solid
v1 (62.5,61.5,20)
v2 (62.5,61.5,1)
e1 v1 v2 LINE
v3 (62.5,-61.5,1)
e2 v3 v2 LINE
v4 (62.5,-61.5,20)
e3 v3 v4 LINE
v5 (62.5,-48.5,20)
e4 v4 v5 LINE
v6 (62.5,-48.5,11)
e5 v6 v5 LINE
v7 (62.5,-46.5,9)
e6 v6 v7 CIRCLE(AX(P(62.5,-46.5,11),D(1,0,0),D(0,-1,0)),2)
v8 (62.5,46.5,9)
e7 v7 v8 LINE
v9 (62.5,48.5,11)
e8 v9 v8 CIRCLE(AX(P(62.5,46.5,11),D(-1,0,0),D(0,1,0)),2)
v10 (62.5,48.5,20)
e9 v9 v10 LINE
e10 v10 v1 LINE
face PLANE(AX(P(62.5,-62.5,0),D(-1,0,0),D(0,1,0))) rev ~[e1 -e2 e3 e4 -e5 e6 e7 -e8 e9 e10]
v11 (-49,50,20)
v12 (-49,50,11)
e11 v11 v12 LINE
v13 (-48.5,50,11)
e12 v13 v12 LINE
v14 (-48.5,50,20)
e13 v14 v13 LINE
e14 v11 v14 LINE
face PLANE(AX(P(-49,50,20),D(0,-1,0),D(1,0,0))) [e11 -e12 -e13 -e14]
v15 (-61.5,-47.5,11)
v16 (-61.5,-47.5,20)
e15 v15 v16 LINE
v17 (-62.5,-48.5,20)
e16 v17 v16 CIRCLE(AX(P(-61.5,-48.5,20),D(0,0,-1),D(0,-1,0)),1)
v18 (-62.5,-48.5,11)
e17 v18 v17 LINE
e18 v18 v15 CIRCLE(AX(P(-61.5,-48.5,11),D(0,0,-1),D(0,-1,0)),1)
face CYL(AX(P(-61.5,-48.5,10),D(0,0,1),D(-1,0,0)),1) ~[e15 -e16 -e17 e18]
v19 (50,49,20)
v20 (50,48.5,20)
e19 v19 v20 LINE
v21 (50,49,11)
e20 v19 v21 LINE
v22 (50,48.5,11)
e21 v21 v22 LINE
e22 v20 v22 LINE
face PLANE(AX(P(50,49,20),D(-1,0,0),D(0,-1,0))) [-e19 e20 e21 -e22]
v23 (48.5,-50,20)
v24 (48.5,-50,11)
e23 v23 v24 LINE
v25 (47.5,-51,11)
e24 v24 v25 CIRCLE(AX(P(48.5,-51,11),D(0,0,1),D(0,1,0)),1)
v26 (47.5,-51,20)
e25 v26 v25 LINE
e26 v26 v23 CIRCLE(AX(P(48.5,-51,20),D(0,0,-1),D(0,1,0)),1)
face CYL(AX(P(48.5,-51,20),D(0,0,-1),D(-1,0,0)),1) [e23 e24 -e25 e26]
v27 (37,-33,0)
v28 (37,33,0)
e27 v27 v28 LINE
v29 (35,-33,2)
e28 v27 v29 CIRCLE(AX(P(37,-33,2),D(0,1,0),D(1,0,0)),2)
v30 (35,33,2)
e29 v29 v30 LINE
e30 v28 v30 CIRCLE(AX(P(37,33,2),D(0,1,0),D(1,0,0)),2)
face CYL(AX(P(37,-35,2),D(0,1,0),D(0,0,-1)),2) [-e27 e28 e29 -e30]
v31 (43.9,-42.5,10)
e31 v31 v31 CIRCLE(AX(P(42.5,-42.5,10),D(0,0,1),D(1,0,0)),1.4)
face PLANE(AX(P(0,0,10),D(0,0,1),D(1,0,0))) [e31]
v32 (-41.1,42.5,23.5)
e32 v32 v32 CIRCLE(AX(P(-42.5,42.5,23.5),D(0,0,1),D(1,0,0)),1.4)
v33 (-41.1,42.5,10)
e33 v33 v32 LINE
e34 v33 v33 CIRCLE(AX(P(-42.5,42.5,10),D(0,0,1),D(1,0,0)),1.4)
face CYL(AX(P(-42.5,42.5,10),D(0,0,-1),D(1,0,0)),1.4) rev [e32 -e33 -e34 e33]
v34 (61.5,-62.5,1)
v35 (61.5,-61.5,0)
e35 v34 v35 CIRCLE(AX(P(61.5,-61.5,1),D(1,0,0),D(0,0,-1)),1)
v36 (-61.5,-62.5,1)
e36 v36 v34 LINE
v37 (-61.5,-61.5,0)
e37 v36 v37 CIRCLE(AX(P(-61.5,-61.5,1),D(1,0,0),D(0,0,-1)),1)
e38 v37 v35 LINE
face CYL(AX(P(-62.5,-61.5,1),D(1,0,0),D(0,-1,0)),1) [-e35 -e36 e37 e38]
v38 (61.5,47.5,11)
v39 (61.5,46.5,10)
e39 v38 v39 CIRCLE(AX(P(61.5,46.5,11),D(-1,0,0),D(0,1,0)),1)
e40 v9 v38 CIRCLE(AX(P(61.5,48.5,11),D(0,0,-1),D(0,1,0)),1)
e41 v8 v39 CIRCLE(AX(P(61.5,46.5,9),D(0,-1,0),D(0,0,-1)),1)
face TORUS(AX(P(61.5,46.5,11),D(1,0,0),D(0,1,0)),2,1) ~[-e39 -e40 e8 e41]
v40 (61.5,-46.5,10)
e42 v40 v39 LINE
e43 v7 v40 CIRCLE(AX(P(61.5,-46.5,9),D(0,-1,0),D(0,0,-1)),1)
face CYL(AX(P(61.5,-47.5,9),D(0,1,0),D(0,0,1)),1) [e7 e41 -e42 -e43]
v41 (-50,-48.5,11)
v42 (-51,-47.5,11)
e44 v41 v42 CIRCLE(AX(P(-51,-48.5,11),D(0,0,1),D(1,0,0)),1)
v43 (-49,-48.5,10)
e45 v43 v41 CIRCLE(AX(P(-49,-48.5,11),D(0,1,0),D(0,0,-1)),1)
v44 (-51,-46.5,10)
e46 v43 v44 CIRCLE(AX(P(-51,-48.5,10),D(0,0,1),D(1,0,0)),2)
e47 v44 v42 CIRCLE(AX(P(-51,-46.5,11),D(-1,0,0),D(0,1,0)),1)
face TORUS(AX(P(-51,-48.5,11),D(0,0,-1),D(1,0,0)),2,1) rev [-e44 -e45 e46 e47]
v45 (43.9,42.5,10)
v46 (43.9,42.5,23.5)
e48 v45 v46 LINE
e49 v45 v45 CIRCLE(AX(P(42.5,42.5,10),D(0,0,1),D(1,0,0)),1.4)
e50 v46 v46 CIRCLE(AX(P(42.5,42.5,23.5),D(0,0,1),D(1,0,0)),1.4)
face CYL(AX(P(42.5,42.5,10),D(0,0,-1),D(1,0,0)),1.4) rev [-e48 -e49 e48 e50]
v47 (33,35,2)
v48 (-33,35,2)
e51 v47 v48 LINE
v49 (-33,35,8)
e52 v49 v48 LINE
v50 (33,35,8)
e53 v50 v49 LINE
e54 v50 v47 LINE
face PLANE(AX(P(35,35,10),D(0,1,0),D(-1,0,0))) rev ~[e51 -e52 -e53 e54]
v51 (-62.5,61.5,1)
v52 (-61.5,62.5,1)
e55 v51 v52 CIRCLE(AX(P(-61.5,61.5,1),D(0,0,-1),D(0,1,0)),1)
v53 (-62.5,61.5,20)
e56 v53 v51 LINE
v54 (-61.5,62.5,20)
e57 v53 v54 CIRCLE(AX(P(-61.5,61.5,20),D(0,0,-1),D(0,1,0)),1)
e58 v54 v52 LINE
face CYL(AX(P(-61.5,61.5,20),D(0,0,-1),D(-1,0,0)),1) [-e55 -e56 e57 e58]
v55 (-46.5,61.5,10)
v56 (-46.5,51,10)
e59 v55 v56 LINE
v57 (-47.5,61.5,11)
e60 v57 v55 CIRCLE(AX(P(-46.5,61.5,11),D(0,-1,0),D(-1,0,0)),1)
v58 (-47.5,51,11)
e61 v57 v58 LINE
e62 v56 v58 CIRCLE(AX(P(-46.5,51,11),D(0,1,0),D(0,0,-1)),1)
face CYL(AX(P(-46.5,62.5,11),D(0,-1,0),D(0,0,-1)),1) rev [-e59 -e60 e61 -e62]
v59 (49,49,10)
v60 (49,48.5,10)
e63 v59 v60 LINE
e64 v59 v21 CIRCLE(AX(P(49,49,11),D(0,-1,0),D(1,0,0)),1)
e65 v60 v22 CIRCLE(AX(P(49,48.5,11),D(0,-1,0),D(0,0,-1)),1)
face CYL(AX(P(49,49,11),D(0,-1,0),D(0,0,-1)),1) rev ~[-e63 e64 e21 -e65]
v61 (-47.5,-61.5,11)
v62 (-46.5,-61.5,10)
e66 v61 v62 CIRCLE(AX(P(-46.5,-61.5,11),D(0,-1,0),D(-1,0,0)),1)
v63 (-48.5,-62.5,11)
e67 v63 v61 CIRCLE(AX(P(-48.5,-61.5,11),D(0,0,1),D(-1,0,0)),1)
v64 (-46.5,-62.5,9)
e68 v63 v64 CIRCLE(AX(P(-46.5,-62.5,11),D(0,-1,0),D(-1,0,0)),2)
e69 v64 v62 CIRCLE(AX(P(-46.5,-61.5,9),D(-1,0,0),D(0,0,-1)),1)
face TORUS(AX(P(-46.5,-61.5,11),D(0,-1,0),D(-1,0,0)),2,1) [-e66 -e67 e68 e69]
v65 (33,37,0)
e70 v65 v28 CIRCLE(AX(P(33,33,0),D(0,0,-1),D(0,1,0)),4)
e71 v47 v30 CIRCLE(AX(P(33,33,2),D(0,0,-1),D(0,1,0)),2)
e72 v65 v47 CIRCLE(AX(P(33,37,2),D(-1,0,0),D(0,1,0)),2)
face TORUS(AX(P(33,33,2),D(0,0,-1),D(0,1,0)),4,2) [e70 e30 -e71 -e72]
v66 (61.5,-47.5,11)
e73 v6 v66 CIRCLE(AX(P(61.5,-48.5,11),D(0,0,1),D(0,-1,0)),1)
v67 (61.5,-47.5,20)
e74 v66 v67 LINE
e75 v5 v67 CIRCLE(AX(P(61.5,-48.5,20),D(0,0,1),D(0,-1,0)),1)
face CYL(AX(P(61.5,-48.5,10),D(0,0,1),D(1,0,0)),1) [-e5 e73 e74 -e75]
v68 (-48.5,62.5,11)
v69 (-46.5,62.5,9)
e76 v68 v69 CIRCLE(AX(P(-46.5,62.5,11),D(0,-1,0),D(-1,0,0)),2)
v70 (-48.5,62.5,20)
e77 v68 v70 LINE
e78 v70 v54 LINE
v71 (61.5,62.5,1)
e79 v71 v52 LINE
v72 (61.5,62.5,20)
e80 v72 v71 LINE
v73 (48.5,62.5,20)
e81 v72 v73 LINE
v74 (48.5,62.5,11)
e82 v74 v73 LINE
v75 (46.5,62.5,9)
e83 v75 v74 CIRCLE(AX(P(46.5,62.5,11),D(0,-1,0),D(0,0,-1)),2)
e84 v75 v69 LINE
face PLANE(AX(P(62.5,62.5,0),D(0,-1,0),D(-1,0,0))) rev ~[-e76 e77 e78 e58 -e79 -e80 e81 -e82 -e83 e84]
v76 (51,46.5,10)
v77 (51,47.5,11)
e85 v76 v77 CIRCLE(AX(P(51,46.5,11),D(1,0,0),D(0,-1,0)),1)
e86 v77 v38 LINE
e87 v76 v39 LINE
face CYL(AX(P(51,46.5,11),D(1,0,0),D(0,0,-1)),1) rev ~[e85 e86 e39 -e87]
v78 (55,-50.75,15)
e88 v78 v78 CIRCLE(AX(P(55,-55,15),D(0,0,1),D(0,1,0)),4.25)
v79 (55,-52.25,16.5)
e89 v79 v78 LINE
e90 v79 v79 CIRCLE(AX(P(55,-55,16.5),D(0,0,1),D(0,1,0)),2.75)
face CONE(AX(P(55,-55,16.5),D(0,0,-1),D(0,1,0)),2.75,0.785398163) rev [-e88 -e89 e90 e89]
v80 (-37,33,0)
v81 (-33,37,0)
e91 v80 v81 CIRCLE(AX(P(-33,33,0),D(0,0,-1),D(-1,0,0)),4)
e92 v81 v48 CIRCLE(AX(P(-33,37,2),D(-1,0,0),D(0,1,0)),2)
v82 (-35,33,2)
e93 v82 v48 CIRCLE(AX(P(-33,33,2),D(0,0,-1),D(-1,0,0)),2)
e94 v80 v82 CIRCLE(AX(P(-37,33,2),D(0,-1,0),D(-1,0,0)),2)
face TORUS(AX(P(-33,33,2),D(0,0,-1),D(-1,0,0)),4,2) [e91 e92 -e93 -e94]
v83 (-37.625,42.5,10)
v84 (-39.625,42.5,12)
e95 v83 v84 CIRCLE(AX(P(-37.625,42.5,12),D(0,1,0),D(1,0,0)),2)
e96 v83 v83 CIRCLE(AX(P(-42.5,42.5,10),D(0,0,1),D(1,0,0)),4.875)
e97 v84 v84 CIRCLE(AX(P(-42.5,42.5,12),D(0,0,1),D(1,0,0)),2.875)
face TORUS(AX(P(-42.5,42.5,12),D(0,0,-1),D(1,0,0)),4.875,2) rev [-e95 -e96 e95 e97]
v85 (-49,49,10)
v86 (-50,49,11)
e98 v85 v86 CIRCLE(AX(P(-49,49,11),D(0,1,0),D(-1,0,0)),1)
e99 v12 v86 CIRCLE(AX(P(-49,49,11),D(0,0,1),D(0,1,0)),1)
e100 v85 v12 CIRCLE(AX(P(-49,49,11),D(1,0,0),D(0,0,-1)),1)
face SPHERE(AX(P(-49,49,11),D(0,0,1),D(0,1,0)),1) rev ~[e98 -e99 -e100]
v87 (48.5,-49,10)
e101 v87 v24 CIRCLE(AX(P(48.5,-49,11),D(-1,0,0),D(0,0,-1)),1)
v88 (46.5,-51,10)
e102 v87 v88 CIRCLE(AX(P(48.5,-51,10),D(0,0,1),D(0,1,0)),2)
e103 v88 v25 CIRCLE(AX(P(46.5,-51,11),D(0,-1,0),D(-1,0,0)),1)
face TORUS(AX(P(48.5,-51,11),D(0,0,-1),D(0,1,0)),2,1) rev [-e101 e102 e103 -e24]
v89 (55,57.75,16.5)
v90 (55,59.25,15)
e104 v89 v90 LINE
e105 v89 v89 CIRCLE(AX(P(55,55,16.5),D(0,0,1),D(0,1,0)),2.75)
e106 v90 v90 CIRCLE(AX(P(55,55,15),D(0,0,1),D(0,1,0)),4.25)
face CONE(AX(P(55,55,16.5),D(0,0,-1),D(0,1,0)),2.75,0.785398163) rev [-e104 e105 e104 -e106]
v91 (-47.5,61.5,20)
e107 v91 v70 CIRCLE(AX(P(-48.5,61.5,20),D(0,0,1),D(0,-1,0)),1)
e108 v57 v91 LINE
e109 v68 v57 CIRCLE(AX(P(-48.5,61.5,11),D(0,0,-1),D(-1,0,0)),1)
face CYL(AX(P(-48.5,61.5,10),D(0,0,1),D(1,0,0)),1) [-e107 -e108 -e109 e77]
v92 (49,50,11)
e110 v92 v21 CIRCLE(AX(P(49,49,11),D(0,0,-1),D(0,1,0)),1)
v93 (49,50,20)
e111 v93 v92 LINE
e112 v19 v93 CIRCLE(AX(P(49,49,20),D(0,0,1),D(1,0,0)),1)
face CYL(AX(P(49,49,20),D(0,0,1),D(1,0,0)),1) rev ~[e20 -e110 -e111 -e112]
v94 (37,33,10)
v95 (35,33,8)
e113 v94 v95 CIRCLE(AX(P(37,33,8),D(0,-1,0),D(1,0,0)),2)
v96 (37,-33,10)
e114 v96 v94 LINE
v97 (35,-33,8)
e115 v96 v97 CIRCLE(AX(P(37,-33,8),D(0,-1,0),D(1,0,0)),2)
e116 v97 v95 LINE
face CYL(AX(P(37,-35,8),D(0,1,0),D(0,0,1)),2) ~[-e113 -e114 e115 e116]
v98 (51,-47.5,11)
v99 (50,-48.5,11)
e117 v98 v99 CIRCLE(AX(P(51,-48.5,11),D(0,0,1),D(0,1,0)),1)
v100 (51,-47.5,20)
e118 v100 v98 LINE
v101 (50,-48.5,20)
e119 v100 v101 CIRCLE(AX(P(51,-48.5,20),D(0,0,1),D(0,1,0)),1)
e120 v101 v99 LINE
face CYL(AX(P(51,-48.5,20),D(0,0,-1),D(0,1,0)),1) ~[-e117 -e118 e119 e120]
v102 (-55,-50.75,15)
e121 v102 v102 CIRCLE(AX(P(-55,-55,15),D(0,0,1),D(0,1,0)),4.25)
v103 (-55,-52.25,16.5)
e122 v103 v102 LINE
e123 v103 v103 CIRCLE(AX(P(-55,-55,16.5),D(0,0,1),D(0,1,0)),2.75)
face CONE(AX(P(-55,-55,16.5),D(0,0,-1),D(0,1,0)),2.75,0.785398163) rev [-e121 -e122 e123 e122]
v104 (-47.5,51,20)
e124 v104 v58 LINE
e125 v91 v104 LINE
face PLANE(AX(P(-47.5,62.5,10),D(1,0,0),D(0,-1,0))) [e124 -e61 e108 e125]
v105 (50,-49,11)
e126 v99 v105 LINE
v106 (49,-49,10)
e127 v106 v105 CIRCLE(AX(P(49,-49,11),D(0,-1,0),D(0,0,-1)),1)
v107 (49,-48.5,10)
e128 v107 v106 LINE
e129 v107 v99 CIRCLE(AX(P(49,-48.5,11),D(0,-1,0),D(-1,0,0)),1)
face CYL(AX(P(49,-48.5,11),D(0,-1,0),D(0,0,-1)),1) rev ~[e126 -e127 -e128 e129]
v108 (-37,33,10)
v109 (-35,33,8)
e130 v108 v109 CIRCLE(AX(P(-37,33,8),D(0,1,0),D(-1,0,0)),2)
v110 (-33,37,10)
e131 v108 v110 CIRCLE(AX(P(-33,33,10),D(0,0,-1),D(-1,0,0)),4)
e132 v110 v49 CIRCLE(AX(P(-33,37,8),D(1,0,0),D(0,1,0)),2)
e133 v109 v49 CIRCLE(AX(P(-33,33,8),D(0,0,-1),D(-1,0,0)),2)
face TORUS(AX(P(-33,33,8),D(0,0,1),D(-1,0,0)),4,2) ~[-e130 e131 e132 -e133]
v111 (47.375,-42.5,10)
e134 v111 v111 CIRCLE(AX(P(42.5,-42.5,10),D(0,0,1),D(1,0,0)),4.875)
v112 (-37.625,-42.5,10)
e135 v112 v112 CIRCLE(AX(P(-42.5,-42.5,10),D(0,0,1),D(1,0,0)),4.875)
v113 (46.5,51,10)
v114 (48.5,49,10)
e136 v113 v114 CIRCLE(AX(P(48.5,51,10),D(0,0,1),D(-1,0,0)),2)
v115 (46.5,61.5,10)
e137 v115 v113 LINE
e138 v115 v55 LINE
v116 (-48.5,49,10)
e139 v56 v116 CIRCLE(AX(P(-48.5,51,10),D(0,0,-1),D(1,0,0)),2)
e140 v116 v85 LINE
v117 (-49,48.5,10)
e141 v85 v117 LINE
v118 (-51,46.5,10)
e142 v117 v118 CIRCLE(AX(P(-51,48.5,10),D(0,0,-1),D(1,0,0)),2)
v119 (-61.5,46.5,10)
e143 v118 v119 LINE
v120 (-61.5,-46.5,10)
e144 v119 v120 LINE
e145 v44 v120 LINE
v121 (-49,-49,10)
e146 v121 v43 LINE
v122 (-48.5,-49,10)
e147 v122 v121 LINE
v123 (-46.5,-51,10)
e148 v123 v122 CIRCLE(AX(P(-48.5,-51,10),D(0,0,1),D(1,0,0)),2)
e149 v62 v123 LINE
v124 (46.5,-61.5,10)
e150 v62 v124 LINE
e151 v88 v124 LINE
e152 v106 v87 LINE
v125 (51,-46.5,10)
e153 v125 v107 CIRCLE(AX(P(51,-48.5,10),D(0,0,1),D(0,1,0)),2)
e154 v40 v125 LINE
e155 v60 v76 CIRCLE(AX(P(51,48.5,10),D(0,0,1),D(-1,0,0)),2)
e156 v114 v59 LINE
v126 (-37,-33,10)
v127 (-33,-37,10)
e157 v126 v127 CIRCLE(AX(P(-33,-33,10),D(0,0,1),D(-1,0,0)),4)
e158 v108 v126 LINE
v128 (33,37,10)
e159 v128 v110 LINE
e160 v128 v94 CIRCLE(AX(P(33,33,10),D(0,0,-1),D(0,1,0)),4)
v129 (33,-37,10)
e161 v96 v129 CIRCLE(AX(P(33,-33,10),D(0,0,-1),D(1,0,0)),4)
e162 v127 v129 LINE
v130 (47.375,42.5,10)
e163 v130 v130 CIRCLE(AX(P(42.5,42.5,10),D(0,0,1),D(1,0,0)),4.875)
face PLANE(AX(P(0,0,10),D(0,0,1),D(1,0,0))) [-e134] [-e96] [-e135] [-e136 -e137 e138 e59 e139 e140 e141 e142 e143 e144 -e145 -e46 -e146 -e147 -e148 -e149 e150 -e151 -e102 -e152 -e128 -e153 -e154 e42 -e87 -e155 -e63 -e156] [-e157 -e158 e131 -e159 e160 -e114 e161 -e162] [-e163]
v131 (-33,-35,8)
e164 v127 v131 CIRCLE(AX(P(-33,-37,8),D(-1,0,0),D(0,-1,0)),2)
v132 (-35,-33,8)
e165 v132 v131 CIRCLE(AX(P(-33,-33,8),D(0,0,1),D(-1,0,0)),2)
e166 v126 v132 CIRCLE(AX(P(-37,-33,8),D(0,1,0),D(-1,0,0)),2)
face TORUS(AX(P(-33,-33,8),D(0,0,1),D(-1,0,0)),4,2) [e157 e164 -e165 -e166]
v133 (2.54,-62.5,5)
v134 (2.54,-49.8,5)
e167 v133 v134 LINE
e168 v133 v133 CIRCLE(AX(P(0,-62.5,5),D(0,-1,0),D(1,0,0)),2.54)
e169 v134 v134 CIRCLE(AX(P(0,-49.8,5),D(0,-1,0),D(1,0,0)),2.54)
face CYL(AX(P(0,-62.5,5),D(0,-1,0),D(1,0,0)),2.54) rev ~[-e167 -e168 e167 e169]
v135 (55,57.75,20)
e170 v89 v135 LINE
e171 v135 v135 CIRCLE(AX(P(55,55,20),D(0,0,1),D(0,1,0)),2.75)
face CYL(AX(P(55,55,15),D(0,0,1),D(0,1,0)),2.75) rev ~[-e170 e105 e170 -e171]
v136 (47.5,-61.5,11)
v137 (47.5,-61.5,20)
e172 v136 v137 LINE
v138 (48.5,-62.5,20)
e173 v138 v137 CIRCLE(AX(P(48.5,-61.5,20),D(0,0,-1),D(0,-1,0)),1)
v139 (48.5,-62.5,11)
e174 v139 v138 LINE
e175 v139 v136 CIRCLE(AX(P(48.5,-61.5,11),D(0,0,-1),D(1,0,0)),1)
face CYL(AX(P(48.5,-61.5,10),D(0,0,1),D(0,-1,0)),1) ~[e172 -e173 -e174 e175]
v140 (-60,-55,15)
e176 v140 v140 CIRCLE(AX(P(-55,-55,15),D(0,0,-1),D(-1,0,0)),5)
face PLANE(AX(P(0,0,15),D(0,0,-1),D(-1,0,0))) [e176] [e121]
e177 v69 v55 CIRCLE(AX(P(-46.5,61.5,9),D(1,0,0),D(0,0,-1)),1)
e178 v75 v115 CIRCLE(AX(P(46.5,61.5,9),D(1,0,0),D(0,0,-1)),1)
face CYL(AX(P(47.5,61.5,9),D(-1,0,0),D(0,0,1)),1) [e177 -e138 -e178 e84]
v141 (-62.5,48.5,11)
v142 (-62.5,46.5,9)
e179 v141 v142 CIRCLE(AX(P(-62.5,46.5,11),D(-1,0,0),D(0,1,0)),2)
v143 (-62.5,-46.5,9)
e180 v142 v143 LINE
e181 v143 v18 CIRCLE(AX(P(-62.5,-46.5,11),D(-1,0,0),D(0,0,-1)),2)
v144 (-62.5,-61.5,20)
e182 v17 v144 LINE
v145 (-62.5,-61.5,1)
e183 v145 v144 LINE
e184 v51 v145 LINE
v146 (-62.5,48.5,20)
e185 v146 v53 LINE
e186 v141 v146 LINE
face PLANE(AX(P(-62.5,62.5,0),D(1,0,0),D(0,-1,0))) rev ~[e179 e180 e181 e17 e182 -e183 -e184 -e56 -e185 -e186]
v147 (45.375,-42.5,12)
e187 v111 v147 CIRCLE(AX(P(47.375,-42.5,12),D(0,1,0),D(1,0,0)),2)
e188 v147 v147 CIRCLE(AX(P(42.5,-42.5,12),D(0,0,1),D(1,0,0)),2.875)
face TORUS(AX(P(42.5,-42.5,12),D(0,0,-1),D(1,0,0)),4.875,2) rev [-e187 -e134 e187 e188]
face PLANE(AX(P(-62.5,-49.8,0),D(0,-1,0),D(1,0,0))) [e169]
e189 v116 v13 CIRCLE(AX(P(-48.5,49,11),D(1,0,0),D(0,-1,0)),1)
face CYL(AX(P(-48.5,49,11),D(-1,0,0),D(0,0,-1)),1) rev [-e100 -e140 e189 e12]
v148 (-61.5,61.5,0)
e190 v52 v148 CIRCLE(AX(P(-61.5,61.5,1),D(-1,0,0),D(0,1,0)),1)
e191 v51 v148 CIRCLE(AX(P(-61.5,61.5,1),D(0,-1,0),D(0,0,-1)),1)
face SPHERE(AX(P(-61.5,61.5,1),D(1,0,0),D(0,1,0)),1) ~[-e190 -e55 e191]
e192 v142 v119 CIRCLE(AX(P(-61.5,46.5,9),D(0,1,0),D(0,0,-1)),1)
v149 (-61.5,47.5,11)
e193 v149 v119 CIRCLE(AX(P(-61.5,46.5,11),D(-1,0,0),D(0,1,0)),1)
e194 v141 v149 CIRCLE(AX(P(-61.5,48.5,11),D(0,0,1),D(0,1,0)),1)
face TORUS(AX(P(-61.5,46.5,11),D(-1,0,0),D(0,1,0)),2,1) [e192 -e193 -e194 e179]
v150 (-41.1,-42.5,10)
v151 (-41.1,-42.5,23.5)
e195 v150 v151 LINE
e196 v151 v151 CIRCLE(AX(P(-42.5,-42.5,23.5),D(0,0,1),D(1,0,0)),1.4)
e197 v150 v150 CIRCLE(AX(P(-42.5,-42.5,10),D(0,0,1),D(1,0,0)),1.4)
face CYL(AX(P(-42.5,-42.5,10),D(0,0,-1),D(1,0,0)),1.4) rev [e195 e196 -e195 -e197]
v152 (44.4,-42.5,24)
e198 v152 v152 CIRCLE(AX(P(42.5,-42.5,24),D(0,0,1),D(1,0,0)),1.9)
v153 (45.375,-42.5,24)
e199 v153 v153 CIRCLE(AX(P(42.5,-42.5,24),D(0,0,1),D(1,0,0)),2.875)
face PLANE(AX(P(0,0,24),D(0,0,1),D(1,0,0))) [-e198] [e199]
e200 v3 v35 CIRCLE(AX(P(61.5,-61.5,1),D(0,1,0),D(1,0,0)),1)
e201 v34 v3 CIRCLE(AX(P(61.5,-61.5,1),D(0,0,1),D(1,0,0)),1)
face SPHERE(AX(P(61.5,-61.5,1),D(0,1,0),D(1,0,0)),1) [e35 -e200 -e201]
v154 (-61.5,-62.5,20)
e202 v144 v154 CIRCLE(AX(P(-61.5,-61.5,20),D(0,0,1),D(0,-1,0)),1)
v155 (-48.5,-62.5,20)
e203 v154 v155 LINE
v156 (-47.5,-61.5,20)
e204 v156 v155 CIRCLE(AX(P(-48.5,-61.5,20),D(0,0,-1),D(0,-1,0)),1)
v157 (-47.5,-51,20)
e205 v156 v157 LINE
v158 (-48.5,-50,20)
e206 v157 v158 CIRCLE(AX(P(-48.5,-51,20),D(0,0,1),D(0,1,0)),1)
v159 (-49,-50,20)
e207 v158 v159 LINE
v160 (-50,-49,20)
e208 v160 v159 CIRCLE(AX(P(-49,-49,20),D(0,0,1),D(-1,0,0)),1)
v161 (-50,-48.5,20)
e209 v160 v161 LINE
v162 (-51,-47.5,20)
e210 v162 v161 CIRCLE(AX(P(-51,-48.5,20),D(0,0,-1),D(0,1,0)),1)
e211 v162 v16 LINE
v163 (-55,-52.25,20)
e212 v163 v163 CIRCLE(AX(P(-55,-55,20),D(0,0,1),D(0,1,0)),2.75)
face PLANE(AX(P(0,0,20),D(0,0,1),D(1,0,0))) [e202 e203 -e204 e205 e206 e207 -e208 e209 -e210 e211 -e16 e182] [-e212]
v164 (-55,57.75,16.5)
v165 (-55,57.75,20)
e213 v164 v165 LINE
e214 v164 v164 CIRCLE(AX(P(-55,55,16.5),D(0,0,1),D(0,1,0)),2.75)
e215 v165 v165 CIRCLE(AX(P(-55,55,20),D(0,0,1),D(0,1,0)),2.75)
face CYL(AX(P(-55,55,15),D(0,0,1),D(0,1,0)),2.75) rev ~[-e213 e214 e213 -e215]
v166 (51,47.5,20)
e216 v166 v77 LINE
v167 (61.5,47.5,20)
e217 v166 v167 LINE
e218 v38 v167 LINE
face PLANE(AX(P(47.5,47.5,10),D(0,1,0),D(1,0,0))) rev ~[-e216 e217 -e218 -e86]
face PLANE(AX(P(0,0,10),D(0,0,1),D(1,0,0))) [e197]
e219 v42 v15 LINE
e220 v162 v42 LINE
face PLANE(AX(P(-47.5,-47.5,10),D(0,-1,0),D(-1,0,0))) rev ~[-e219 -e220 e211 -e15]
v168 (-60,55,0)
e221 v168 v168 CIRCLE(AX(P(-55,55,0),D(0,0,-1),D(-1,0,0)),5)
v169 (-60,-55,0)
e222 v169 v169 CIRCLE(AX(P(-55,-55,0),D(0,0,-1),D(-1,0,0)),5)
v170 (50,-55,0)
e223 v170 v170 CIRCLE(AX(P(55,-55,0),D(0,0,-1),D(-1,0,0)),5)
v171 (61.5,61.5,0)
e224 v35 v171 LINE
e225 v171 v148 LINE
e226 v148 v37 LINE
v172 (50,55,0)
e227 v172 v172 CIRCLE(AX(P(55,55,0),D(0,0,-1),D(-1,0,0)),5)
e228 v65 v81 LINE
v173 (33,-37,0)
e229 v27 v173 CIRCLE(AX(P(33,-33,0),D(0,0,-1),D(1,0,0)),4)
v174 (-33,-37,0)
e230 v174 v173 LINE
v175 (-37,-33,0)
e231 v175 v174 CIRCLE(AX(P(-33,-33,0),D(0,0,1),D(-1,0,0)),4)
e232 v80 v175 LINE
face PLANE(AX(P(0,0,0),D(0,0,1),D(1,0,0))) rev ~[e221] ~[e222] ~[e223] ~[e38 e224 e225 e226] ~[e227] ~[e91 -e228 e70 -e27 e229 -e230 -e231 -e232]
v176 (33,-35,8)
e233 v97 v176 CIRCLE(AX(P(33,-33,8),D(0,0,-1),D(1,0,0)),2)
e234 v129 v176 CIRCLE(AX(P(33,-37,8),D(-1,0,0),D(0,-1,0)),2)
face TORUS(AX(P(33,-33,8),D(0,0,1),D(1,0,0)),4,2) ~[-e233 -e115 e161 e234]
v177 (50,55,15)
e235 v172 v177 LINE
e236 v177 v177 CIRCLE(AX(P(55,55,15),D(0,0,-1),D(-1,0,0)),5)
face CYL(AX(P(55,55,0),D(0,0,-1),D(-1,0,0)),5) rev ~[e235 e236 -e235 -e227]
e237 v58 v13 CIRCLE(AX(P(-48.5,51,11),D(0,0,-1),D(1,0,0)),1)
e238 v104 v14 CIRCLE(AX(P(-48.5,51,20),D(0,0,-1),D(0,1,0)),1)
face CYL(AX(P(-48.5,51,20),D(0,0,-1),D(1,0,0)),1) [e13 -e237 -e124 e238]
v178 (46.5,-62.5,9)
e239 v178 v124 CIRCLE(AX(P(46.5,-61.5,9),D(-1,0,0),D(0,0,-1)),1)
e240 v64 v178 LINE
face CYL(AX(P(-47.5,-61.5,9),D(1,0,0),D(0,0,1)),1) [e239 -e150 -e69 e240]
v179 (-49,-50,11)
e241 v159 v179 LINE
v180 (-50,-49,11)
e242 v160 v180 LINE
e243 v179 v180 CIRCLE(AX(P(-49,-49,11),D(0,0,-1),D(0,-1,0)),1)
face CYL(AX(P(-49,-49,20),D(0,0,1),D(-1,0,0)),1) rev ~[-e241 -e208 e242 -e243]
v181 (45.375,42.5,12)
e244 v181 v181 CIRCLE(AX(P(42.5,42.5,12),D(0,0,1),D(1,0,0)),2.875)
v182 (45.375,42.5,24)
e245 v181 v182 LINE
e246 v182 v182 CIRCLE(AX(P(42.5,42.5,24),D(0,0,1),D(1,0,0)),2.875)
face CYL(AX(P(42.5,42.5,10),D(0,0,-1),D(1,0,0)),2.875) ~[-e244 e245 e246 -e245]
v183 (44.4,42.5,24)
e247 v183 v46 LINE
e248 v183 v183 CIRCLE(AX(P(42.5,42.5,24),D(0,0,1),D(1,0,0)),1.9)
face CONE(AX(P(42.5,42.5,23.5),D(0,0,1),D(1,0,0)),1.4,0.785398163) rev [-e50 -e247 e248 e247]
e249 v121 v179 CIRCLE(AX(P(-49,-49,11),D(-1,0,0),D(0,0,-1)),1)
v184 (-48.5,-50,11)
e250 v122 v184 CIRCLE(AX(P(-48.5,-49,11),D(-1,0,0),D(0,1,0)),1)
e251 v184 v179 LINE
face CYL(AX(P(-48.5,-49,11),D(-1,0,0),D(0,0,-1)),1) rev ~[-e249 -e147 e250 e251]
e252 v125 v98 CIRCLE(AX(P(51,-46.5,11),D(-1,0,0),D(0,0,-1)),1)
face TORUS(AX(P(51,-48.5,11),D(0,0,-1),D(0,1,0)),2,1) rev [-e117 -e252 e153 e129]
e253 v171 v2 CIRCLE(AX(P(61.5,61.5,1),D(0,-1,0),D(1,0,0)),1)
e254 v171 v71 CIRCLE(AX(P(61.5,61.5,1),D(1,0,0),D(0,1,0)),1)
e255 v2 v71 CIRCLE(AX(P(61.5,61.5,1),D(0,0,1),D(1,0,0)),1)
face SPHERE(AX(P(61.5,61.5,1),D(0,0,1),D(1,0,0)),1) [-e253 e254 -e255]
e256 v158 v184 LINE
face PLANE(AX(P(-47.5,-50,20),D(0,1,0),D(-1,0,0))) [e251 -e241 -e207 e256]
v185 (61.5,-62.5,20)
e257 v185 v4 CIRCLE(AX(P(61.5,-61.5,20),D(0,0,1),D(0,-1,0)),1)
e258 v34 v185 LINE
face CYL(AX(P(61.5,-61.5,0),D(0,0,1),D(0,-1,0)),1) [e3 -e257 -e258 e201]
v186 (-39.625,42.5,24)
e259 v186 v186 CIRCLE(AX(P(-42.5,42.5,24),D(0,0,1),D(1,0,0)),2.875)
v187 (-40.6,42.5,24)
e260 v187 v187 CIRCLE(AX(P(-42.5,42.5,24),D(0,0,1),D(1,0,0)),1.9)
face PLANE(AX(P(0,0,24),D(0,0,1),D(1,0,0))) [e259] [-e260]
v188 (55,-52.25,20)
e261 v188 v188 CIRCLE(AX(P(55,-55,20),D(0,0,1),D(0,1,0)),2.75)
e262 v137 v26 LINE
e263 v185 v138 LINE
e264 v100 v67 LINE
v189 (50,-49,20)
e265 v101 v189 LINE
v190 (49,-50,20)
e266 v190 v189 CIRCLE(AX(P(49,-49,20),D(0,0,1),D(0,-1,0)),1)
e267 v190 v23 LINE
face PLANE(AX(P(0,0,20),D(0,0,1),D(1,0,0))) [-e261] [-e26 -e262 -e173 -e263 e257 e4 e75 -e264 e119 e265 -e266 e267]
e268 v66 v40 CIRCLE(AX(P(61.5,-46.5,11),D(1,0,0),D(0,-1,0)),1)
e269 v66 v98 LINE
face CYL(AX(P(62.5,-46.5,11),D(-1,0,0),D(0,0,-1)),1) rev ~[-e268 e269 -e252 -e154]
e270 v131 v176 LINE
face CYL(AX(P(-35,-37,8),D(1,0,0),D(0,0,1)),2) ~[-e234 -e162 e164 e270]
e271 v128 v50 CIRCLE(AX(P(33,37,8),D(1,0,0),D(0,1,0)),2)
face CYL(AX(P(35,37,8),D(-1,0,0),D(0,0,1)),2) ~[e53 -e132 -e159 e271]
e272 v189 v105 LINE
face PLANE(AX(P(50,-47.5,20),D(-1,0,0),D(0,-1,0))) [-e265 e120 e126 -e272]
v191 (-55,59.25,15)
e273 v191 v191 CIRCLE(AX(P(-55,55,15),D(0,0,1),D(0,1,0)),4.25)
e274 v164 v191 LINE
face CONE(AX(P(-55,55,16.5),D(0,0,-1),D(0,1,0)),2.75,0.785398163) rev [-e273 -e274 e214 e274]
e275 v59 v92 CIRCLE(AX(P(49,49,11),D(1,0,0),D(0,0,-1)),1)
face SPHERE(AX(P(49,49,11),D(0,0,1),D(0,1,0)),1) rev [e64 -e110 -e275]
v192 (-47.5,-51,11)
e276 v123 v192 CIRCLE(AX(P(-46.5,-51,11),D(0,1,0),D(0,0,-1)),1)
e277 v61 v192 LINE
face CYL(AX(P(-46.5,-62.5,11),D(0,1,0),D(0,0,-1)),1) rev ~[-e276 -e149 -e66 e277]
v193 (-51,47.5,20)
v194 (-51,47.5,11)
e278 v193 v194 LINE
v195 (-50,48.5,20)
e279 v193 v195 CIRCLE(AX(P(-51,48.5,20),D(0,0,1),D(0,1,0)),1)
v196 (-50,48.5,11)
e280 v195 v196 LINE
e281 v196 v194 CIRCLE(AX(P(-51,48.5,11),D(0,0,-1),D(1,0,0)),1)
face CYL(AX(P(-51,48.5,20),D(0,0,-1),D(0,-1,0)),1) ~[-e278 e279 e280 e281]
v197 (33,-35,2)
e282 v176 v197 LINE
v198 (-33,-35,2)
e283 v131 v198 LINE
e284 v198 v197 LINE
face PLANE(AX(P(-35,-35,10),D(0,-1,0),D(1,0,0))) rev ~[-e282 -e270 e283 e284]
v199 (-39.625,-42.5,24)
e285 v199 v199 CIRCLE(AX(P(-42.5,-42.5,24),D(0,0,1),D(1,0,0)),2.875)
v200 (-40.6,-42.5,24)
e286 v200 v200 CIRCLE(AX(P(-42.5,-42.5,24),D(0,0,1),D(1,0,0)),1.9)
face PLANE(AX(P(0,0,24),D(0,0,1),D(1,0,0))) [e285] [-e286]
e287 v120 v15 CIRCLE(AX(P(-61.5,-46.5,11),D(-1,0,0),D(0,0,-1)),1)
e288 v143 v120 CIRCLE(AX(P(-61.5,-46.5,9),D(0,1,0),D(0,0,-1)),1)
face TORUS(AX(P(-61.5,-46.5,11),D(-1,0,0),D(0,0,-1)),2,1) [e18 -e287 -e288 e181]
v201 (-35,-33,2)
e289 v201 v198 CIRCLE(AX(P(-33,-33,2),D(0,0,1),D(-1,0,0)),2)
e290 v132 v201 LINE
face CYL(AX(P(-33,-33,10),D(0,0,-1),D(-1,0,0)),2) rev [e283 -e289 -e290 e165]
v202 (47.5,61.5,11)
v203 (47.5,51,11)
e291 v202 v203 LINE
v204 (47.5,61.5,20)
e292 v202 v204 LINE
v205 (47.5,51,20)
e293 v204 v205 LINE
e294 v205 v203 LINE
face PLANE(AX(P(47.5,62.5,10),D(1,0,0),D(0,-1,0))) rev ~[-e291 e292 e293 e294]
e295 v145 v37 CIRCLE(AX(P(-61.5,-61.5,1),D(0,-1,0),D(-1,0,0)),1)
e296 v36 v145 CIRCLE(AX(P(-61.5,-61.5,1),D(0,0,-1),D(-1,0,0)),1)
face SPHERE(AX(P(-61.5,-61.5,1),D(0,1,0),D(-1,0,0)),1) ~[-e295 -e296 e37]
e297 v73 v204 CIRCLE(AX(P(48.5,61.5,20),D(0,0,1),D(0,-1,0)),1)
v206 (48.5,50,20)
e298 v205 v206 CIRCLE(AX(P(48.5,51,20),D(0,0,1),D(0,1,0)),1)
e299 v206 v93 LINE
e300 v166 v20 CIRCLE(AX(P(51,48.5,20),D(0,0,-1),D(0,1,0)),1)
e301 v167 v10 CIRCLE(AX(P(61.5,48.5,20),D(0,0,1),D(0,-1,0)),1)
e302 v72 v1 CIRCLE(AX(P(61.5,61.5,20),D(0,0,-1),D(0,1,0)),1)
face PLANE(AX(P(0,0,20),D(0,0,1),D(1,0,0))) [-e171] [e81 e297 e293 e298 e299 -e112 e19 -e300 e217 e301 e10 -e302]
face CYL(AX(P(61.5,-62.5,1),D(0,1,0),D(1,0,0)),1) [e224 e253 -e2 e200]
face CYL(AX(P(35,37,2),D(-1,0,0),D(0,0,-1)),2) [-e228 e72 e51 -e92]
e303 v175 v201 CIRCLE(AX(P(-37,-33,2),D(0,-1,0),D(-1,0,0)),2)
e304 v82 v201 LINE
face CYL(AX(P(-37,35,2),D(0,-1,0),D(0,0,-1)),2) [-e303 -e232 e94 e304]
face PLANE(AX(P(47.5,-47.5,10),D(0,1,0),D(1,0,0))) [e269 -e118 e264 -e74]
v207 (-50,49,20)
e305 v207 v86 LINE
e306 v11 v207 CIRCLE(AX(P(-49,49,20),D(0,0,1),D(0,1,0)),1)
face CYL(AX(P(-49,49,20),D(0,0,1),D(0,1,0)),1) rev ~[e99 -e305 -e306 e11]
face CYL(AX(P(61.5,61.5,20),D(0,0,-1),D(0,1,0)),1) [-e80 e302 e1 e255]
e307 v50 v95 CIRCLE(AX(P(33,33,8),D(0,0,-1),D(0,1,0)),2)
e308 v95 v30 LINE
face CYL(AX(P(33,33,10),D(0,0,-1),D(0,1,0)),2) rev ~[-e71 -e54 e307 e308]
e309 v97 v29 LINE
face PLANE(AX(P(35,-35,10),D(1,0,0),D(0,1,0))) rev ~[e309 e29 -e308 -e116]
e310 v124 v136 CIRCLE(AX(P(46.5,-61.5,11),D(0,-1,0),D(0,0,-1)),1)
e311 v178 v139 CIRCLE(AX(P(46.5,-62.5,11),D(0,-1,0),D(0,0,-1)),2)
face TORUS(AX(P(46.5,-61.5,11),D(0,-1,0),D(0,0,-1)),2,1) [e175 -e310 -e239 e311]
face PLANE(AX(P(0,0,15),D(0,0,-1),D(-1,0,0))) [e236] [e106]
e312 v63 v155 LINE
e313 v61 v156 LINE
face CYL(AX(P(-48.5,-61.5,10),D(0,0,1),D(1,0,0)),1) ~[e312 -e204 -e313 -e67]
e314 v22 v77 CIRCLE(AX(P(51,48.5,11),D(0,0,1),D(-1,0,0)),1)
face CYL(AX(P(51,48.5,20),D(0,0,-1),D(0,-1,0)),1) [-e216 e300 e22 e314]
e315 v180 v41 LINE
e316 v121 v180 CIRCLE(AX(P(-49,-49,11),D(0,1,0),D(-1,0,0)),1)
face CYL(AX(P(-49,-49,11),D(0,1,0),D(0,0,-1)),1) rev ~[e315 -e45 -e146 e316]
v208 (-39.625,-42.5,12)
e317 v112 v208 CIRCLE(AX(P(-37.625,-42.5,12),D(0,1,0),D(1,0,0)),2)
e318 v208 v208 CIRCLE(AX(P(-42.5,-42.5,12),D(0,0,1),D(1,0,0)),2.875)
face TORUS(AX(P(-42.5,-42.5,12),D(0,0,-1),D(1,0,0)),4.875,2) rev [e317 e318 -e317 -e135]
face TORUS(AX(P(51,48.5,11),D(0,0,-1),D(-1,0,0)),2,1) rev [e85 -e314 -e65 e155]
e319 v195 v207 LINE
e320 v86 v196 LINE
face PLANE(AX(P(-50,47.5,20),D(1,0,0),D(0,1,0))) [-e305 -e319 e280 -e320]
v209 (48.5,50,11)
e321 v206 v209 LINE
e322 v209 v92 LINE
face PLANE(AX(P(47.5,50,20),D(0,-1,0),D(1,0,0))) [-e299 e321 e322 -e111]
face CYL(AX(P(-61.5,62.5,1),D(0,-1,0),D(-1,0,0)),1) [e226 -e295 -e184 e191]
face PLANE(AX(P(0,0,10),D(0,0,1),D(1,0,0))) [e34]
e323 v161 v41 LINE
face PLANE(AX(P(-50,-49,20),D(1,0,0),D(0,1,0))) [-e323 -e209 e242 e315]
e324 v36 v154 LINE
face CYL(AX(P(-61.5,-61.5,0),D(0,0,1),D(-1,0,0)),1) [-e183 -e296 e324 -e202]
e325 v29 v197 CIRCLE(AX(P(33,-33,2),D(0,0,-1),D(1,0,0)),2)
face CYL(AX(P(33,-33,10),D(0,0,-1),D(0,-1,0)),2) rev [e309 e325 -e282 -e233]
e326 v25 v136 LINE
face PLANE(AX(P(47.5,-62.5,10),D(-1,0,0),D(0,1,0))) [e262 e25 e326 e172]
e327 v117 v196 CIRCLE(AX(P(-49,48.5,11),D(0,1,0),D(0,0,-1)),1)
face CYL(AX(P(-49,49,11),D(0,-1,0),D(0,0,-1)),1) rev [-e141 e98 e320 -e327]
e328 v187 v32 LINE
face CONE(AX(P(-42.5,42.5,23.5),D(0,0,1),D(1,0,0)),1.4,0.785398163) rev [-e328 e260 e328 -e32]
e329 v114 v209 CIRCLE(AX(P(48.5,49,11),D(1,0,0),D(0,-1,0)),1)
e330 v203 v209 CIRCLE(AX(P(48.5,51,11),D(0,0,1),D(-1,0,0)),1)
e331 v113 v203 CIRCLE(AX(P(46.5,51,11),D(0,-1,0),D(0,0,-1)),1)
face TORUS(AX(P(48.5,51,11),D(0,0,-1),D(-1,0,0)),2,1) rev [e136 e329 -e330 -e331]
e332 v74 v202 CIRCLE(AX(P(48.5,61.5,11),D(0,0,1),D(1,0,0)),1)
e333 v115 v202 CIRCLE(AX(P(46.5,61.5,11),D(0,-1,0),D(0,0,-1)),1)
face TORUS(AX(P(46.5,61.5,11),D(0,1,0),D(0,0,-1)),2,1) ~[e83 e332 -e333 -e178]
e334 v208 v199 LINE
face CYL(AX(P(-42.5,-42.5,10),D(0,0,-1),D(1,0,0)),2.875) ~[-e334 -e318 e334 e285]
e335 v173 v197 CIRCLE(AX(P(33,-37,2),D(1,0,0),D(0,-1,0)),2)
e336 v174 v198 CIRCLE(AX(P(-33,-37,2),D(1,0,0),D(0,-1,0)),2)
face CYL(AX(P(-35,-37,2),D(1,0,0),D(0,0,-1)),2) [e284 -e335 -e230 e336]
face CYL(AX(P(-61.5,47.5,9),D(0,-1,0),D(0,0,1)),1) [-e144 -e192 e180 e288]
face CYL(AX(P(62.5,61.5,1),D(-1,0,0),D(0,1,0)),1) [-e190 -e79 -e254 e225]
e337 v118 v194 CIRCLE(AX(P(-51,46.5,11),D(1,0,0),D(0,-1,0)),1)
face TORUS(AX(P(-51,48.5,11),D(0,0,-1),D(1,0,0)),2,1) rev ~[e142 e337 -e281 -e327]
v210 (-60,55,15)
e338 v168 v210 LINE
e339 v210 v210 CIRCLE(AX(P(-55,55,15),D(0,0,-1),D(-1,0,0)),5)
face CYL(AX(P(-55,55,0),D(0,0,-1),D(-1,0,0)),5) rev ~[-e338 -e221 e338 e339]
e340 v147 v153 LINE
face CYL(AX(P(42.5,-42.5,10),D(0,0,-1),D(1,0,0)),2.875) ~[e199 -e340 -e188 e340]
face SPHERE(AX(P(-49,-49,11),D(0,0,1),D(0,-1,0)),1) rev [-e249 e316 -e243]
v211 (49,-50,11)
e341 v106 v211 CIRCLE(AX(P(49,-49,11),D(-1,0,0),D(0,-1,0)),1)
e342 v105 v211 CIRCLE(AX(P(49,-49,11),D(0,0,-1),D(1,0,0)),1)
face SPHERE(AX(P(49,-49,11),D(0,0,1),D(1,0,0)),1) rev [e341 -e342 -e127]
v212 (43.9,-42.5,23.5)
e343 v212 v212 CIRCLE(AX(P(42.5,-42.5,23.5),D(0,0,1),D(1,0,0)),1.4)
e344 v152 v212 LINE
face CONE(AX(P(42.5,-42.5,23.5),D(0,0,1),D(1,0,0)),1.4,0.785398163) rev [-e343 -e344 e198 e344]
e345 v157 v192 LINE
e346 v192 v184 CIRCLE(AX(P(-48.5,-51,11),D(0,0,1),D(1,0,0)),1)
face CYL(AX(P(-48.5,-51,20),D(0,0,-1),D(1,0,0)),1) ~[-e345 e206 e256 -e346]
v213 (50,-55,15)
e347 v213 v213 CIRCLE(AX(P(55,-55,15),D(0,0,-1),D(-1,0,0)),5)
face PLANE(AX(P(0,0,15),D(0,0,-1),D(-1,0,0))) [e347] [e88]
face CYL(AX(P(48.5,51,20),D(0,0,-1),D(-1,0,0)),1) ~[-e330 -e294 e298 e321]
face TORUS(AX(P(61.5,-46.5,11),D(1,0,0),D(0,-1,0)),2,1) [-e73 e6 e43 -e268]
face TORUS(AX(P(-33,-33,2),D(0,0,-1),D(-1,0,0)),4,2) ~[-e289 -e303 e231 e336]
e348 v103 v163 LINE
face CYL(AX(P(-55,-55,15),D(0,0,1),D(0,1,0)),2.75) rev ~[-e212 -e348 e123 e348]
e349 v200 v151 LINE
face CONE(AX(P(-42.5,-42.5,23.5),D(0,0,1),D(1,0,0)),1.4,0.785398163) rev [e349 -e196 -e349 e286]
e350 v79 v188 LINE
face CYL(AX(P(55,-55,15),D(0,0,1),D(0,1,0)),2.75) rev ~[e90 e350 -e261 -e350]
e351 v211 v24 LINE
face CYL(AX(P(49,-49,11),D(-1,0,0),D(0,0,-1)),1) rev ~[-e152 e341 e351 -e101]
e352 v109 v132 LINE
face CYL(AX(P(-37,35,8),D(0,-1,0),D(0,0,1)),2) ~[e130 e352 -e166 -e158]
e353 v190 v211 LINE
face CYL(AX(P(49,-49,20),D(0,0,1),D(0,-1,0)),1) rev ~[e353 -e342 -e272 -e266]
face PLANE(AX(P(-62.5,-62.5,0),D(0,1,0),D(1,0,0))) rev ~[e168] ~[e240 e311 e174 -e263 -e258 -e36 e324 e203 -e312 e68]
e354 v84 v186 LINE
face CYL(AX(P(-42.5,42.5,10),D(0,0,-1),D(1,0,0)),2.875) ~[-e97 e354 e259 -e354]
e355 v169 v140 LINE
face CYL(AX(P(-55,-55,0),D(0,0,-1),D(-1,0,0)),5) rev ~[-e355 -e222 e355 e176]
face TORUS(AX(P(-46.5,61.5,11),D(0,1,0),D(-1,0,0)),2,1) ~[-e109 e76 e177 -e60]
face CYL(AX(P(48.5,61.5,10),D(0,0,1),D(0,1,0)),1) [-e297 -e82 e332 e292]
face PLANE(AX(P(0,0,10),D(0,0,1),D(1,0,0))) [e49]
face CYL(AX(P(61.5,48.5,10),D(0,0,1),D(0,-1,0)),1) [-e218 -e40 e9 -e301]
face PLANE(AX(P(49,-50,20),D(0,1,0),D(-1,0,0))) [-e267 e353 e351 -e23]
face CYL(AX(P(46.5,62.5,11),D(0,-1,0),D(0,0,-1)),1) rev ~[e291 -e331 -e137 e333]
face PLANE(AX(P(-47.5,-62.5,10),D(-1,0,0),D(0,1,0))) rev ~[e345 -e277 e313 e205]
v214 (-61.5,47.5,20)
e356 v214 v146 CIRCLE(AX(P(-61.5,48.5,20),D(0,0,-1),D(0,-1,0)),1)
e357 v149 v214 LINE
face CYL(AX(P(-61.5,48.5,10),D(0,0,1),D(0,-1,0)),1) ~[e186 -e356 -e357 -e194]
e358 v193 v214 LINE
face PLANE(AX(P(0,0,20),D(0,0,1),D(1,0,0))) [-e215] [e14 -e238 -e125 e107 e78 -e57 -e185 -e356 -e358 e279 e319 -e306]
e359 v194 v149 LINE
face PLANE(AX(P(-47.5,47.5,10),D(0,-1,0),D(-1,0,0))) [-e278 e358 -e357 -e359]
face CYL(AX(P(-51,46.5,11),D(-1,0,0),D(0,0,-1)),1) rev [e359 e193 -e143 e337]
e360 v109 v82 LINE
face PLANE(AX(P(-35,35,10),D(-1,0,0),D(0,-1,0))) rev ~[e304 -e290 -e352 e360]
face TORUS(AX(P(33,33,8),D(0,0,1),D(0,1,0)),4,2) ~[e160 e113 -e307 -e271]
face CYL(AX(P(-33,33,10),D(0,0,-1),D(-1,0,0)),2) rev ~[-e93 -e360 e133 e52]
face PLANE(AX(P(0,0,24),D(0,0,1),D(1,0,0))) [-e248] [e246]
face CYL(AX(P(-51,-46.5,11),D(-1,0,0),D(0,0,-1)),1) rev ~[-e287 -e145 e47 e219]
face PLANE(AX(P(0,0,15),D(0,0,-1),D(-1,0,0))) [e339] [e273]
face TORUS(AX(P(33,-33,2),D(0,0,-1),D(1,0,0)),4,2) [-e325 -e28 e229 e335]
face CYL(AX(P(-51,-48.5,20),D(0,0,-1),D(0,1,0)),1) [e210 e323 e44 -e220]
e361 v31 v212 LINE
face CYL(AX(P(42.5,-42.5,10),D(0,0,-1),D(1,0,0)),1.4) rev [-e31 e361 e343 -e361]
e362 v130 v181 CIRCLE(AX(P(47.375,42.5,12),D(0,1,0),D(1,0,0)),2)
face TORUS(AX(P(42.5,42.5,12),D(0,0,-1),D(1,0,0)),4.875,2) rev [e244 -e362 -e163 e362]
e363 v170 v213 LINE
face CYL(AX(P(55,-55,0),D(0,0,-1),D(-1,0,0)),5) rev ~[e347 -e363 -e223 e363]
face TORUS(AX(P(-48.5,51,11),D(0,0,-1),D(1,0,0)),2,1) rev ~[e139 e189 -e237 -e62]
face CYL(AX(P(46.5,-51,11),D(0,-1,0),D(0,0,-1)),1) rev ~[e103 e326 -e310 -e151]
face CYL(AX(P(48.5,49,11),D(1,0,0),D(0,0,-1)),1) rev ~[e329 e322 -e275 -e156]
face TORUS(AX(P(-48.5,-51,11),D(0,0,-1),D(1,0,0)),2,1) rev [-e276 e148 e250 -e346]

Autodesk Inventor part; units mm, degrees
ref_plane "YZ Plane" through (0, 0, 0) normal (1, 0, 0) x (0, 1, 0)
ref_plane "XZ Plane" through (0, 0, 0) normal (0, 1, 0) x (-1, 0, 0)
ref_plane "XY Plane" through (0, 0, 0) normal (0, 0, 1) x (1, 0, 0)
sketch "Sketch1" plane through (0, 0, 0) normal (0, 0, 1) x (1, 0, 0)
  line L0 (-62.5, -62.5) -> (62.5, -62.5)
  line L1 (62.5, -62.5) -> (62.5, 62.5)
  line L2 (62.5, 62.5) -> (-62.5, 62.5)
  line L3 (-62.5, 62.5) -> (-62.5, -62.5)
  line L4 (-62.5, -62.5) -> (62.5, 62.5) construction
  line L5 (62.5, -62.5) -> (-62.5, 62.5) construction
  point P0 (0, 0)
  dimension "d0" = 125
  dimension "d1" = 125
extrude "Extrusion1" add sketch "Sketch1" along normal blind 10
sketch "Sketch2" plane through (0, 0, 10) normal (0, 0, 1) x (1, 0, 0)
  circle A0 centre (-42.5, 42.5) radius 2.875
  circle A1 centre (-42.5, 42.5) radius 1.4
  circle A2 centre (42.5, 42.5) radius 2.875
  circle A3 centre (42.5, 42.5) radius 1.4
  circle A4 centre (-42.5, -42.5) radius 2.875
  circle A5 centre (42.5, -42.5) radius 2.875
  circle A6 centre (-42.5, -42.5) radius 1.4
  circle A7 centre (42.5, -42.5) radius 1.4
  point P0 (0, 0)
  dimension "d4" = 5.75
  dimension "d5" = 42.5
  dimension "d6" = 42.5
  dimension "d7" = 2.8
  dimension "d8" = 5.75
  dimension "d9" = 85
  dimension "d10" = 2.8
  dimension "d11" = 42.5
  dimension "d12" = 5.75
  dimension "d13" = 5.75
  dimension "d14" = 85
  dimension "d15" = 0
  dimension "d16" = 85
  dimension "d17" = 0
  dimension "d18" = 2.8
  dimension "d19" = 2.8
extrude "Extrusion2" add sketch "Sketch2" along normal blind 14
sketch "Sketch3" plane through (0, 0, 10) normal (0, 0, 1) x (1, 0, 0)
  line L0 (-35, -35) -> (35, -35)
  line L1 (35, -35) -> (35, 35)
  line L2 (35, 35) -> (-35, 35)
  line L3 (-35, 35) -> (-35, -35)
  line L4 (-35, -35) -> (35, 35) construction
  line L5 (35, -35) -> (-35, 35) construction
  point P0 (0, 0)
  dimension "d22" = 70
  dimension "d23" = 70
extrude "Extrusion3" cut sketch "Sketch3" against normal through all
sketch "Sketch4" plane through (0, 0, 10) normal (0, 0, 1) x (1, 0, 0)
  line L0 (62.5, 62.5) -> (-62.5, 62.5) projected
  line L1 (-62.5, 62.5) -> (-47.5, 62.5)
  line L2 (-47.5, 62.5) -> (-47.5, 47.5)
  line L3 (-47.5, 47.5) -> (-62.5, 47.5)
  line L4 (-62.5, 47.5) -> (-62.5, 62.5)
  line L5 (62.5, 62.5) -> (47.5, 62.5)
  line L6 (47.5, 62.5) -> (47.5, 47.5)
  line L7 (47.5, 47.5) -> (62.5, 47.5)
  line L8 (62.5, 47.5) -> (62.5, 62.5)
  line L9 (62.5, -62.5) -> (62.5, 62.5) projected
  line L10 (62.5, -62.5) -> (47.5, -62.5)
  line L11 (47.5, -62.5) -> (47.5, -47.5)
  line L12 (47.5, -47.5) -> (62.5, -47.5)
  line L13 (62.5, -47.5) -> (62.5, -62.5)
  line L14 (-62.5, 62.5) -> (-62.5, -62.5) projected
  line L15 (-62.5, -62.5) -> (-47.5, -62.5)
  line L16 (-47.5, -62.5) -> (-47.5, -47.5)
  line L17 (-47.5, -47.5) -> (-62.5, -47.5)
  line L18 (-62.5, -47.5) -> (-62.5, -62.5)
  point P0 (0, 0)
  point P1 (-62.5, -47.5)
  dimension "d27" = 15
  dimension "d28" = 15
  dimension "d29" = 15
  dimension "d30" = 15
  dimension "d31" = 15
  dimension "d32" = 15
  dimension "d33" = 15
  dimension "d34" = 15
extrude "Extrusion4" add sketch "Sketch4" along normal blind 10
sketch "Sketch5" plane through (0, 0, 0) normal (0, 0, -1) x (-1, 0, 0)
  circle A0 centre (-55, 55) radius 5
  line L0 (-62.5, 62.5) -> (62.5, 62.5) projected
  line L1 (-62.5, -62.5) -> (-62.5, 62.5) projected
  circle A1 centre (55, 55) radius 5
  line L2 (62.5, 62.5) -> (62.5, -62.5) projected
  circle A2 centre (-55, -55) radius 5
  circle A3 centre (55, -55) radius 5
  line L3 (62.5, -62.5) -> (-62.5, -62.5) projected
  point P0 (0, 0)
  dimension "d37" = 10
  dimension "d38" = 7.5
  dimension "d39" = 7.5
  dimension "d40" = 10
  dimension "d41" = 7.5
  dimension "d42" = 7.5
  dimension "d43" = 10
  dimension "d44" = 10
  dimension "d45" = 7.5
  dimension "d46" = 7.5
  dimension "d47" = 7.5
  dimension "d48" = 7.5
extrude "Extrusion5" cut sketch "Sketch5" against normal blind 15 contours A0 | A1 | A2 | A3
sketch "Sketch6" plane through (55, 55, 15) normal (0, 0, -1) x (-1, 0, 0)
  point P0 (55, -55)
  point P1 (0, 0)
hole "Hole1" at (55, 55, 15) direction (0, 0, 1) diameter 5.5 end through all clearance for "Flat Head Machine Screw" size "M5" standard "Ansi Metric M Profile"
sketch "Sketch7" plane through (-55, 55, 15) normal (0, 0, -1) x (-1, 0, 0)
  point P0 (-55, -55)
  point P1 (0, 0)
hole "Hole2" at (-55, 55, 15) direction (0, 0, 1) diameter 5.5 end through all clearance for "Flat Head Machine Screw" size "M5" standard "Ansi Metric M Profile"
sketch "Sketch8" plane through (55, -55, 15) normal (0, 0, -1) x (-1, 0, 0)
  point P0 (55, 55)
  point P1 (0, 0)
hole "Hole3" at (55, -55, 15) direction (0, 0, 1) diameter 5.5 end through all clearance for "Flat Head Machine Screw" size "M5" standard "Ansi Metric M Profile"
sketch "Sketch9" plane through (-55, -55, 15) normal (0, 0, -1) x (-1, 0, 0)
  point P0 (-55, 55)
  point P1 (0, 0)
hole "Hole4" at (-55, -55, 15) direction (0, 0, 1) diameter 5.5 end through all clearance for "Flat Head Machine Screw" size "M5" standard "Ansi Metric M Profile"
fillet "Fillet2" radius 2 12 edges at (-35, -35, 5) (-35, 0, 10) (-35, 0, 0) (0, -35, 10) (0, -35, 0) (35, -35, 5) (35, 0, 0) (35, 0, 10) (35, 35, 5) (0, 35, 0) (0, 35, 10) (-35, 35, 5)
chamfer "Chamfer1" distance 0.5 angle 45 4 edges at (-43.9, -42.5, 24) (-43.9, 42.5, 24) (41.1, -42.5, 24) (41.1, 42.5, 24)
chamfer "Chamfer2" distance 1.5 angle 45 4 edges at (55, -57.75, 15) (-55, -57.75, 15) (55, 52.25, 15) (-55, 52.25, 15)
fillet "Fillet5" radius 2 4 edges at (39.625, -42.5, 10) (39.625, 42.5, 10) (-45.375, -42.5, 10) (-45.375, 42.5, 10)
sketch "Sketch12" plane through (-62.5, -62.5, 0) normal (0, -1, 0) x (1, 0, 0)
  circle A0 centre (62.5, 5) radius 2.54
  line L0 (0, 0) -> (0, 20) projected
  point P0 (62.5, 0)
  dimension "d91" = 5.08
  dimension "d92" = 5
  dimension "d93" = 62.5
extrude "Extrusion6" cut sketch "Sketch12" against normal blind 12.7
sketch "Sketch16" plane through (0, 0, 20) normal (0, 0, 1) x (1, 0, 0)
  line L0 (49, -50) -> (47.5, -50)
  arc A0 (49, -50) -> (50, -49) centre (49, -49) ccw
  line L1 (50, -47.5) -> (50, -49)
  line L2 (50, -47.5) -> (47.5, -47.5)
  line L3 (47.5, -47.5) -> (47.5, -50)
  line L4 (47.5, -47.5) -> (47.5, -62.5) projected
  line L5 (47.5, 50) -> (49, 50)
  line L6 (47.5, 50) -> (47.5, 47.5)
  arc A1 (50, 49) -> (49, 50) centre (49, 49) ccw
  line L7 (50, 49) -> (50, 47.5)
  line L8 (47.5, 47.5) -> (50, 47.5)
  line L9 (47.5, 62.5) -> (47.5, 47.5) projected
  line L10 (-47.5, 47.5) -> (-47.5, 62.5) projected
  line L11 (-62.5, -47.5) -> (-47.5, -47.5) projected
  arc A2 (-49, 50) -> (-50, 49) centre (-49, 49) ccw
  line L12 (-49, 50) -> (-47.5, 50)
  line L13 (-47.5, 47.5) -> (-47.5, 50)
  line L14 (-50, 47.5) -> (-47.5, 47.5)
  line L15 (-50, 47.5) -> (-50, 49)
  arc A3 (-50, -49) -> (-49, -50) centre (-49, -49) ccw
  line L16 (-47.5, -50) -> (-49, -50)
  line L17 (-47.5, -50) -> (-47.5, -47.5)
  line L18 (-47.5, -47.5) -> (-50, -47.5)
  line L19 (-50, -49) -> (-50, -47.5)
  point P0 (0, 0)
extrude "Extrusion7" cut sketch "Sketch16" against normal up to surface (10 mm away)
fillet "Fillet7" radius 1 8 edges at (-50, -47.5, 15) (-47.5, -50, 15) (-50, 47.5, 15) (-47.5, 50, 15) (47.5, 50, 15) (50, 47.5, 15) (50, -47.5, 15) (47.5, -50, 15)
fillet "Fillet8" radius 1 48 edges at (47.7929, 50.2929, 10) (48.75, 50, 10) (49.7071, 49.7071, 10) (50, 48.75, 10) (50.2929, 47.7929, 10) (56.75, 47.5, 10) (47.5, 56.75, 10) (0, 62.5, 10) (47.5, 62.5, 15) (62.5, 47.5, 15) (62.5, 0, 10) (62.5, 62.5, 10) (62.5, 0, 0) (0, 62.5, 0) (50.2929, -47.7929, 10) (50, -48.75, 10) (49.7071, -49.7071, 10) (48.75, -50, 10) (47.7929, -50.2929, 10) (47.5, -56.75, 10) (56.75, -47.5, 10) (62.5, -47.5, 15) (62.5, -62.5, 10) (-47.7929, 50.2929, 10) (-48.75, 50, 10) (-49.7071, 49.7071, 10) (-50, 48.75, 10) (-50.2929, 47.7929, 10) (-56.75, 47.5, 10) (-47.5, 56.75, 10) (-47.5, 62.5, 15) (-62.5, 62.5, 10) (-62.5, 47.5, 15) (-62.5, 0, 10) (-62.5, 0, 0) (-62.5, -47.5, 15) (-62.5, -62.5, 10) (-47.5, -62.5, 15) (0, -62.5, 10) (47.5, -62.5, 15) (-47.7929, -50.2929, 10) (-48.75, -50, 10) (-49.7071, -49.7071, 10) (-50, -48.75, 10) (-50.2929, -47.7929, 10) (-56.75, -47.5, 10) (-47.5, -56.75, 10) (0, -62.5, 0)
equation "\"d105\" = 55deg"
equation "\"Sketch13_Pitch\" = 1.27"
properties part number "Back_Plate"
